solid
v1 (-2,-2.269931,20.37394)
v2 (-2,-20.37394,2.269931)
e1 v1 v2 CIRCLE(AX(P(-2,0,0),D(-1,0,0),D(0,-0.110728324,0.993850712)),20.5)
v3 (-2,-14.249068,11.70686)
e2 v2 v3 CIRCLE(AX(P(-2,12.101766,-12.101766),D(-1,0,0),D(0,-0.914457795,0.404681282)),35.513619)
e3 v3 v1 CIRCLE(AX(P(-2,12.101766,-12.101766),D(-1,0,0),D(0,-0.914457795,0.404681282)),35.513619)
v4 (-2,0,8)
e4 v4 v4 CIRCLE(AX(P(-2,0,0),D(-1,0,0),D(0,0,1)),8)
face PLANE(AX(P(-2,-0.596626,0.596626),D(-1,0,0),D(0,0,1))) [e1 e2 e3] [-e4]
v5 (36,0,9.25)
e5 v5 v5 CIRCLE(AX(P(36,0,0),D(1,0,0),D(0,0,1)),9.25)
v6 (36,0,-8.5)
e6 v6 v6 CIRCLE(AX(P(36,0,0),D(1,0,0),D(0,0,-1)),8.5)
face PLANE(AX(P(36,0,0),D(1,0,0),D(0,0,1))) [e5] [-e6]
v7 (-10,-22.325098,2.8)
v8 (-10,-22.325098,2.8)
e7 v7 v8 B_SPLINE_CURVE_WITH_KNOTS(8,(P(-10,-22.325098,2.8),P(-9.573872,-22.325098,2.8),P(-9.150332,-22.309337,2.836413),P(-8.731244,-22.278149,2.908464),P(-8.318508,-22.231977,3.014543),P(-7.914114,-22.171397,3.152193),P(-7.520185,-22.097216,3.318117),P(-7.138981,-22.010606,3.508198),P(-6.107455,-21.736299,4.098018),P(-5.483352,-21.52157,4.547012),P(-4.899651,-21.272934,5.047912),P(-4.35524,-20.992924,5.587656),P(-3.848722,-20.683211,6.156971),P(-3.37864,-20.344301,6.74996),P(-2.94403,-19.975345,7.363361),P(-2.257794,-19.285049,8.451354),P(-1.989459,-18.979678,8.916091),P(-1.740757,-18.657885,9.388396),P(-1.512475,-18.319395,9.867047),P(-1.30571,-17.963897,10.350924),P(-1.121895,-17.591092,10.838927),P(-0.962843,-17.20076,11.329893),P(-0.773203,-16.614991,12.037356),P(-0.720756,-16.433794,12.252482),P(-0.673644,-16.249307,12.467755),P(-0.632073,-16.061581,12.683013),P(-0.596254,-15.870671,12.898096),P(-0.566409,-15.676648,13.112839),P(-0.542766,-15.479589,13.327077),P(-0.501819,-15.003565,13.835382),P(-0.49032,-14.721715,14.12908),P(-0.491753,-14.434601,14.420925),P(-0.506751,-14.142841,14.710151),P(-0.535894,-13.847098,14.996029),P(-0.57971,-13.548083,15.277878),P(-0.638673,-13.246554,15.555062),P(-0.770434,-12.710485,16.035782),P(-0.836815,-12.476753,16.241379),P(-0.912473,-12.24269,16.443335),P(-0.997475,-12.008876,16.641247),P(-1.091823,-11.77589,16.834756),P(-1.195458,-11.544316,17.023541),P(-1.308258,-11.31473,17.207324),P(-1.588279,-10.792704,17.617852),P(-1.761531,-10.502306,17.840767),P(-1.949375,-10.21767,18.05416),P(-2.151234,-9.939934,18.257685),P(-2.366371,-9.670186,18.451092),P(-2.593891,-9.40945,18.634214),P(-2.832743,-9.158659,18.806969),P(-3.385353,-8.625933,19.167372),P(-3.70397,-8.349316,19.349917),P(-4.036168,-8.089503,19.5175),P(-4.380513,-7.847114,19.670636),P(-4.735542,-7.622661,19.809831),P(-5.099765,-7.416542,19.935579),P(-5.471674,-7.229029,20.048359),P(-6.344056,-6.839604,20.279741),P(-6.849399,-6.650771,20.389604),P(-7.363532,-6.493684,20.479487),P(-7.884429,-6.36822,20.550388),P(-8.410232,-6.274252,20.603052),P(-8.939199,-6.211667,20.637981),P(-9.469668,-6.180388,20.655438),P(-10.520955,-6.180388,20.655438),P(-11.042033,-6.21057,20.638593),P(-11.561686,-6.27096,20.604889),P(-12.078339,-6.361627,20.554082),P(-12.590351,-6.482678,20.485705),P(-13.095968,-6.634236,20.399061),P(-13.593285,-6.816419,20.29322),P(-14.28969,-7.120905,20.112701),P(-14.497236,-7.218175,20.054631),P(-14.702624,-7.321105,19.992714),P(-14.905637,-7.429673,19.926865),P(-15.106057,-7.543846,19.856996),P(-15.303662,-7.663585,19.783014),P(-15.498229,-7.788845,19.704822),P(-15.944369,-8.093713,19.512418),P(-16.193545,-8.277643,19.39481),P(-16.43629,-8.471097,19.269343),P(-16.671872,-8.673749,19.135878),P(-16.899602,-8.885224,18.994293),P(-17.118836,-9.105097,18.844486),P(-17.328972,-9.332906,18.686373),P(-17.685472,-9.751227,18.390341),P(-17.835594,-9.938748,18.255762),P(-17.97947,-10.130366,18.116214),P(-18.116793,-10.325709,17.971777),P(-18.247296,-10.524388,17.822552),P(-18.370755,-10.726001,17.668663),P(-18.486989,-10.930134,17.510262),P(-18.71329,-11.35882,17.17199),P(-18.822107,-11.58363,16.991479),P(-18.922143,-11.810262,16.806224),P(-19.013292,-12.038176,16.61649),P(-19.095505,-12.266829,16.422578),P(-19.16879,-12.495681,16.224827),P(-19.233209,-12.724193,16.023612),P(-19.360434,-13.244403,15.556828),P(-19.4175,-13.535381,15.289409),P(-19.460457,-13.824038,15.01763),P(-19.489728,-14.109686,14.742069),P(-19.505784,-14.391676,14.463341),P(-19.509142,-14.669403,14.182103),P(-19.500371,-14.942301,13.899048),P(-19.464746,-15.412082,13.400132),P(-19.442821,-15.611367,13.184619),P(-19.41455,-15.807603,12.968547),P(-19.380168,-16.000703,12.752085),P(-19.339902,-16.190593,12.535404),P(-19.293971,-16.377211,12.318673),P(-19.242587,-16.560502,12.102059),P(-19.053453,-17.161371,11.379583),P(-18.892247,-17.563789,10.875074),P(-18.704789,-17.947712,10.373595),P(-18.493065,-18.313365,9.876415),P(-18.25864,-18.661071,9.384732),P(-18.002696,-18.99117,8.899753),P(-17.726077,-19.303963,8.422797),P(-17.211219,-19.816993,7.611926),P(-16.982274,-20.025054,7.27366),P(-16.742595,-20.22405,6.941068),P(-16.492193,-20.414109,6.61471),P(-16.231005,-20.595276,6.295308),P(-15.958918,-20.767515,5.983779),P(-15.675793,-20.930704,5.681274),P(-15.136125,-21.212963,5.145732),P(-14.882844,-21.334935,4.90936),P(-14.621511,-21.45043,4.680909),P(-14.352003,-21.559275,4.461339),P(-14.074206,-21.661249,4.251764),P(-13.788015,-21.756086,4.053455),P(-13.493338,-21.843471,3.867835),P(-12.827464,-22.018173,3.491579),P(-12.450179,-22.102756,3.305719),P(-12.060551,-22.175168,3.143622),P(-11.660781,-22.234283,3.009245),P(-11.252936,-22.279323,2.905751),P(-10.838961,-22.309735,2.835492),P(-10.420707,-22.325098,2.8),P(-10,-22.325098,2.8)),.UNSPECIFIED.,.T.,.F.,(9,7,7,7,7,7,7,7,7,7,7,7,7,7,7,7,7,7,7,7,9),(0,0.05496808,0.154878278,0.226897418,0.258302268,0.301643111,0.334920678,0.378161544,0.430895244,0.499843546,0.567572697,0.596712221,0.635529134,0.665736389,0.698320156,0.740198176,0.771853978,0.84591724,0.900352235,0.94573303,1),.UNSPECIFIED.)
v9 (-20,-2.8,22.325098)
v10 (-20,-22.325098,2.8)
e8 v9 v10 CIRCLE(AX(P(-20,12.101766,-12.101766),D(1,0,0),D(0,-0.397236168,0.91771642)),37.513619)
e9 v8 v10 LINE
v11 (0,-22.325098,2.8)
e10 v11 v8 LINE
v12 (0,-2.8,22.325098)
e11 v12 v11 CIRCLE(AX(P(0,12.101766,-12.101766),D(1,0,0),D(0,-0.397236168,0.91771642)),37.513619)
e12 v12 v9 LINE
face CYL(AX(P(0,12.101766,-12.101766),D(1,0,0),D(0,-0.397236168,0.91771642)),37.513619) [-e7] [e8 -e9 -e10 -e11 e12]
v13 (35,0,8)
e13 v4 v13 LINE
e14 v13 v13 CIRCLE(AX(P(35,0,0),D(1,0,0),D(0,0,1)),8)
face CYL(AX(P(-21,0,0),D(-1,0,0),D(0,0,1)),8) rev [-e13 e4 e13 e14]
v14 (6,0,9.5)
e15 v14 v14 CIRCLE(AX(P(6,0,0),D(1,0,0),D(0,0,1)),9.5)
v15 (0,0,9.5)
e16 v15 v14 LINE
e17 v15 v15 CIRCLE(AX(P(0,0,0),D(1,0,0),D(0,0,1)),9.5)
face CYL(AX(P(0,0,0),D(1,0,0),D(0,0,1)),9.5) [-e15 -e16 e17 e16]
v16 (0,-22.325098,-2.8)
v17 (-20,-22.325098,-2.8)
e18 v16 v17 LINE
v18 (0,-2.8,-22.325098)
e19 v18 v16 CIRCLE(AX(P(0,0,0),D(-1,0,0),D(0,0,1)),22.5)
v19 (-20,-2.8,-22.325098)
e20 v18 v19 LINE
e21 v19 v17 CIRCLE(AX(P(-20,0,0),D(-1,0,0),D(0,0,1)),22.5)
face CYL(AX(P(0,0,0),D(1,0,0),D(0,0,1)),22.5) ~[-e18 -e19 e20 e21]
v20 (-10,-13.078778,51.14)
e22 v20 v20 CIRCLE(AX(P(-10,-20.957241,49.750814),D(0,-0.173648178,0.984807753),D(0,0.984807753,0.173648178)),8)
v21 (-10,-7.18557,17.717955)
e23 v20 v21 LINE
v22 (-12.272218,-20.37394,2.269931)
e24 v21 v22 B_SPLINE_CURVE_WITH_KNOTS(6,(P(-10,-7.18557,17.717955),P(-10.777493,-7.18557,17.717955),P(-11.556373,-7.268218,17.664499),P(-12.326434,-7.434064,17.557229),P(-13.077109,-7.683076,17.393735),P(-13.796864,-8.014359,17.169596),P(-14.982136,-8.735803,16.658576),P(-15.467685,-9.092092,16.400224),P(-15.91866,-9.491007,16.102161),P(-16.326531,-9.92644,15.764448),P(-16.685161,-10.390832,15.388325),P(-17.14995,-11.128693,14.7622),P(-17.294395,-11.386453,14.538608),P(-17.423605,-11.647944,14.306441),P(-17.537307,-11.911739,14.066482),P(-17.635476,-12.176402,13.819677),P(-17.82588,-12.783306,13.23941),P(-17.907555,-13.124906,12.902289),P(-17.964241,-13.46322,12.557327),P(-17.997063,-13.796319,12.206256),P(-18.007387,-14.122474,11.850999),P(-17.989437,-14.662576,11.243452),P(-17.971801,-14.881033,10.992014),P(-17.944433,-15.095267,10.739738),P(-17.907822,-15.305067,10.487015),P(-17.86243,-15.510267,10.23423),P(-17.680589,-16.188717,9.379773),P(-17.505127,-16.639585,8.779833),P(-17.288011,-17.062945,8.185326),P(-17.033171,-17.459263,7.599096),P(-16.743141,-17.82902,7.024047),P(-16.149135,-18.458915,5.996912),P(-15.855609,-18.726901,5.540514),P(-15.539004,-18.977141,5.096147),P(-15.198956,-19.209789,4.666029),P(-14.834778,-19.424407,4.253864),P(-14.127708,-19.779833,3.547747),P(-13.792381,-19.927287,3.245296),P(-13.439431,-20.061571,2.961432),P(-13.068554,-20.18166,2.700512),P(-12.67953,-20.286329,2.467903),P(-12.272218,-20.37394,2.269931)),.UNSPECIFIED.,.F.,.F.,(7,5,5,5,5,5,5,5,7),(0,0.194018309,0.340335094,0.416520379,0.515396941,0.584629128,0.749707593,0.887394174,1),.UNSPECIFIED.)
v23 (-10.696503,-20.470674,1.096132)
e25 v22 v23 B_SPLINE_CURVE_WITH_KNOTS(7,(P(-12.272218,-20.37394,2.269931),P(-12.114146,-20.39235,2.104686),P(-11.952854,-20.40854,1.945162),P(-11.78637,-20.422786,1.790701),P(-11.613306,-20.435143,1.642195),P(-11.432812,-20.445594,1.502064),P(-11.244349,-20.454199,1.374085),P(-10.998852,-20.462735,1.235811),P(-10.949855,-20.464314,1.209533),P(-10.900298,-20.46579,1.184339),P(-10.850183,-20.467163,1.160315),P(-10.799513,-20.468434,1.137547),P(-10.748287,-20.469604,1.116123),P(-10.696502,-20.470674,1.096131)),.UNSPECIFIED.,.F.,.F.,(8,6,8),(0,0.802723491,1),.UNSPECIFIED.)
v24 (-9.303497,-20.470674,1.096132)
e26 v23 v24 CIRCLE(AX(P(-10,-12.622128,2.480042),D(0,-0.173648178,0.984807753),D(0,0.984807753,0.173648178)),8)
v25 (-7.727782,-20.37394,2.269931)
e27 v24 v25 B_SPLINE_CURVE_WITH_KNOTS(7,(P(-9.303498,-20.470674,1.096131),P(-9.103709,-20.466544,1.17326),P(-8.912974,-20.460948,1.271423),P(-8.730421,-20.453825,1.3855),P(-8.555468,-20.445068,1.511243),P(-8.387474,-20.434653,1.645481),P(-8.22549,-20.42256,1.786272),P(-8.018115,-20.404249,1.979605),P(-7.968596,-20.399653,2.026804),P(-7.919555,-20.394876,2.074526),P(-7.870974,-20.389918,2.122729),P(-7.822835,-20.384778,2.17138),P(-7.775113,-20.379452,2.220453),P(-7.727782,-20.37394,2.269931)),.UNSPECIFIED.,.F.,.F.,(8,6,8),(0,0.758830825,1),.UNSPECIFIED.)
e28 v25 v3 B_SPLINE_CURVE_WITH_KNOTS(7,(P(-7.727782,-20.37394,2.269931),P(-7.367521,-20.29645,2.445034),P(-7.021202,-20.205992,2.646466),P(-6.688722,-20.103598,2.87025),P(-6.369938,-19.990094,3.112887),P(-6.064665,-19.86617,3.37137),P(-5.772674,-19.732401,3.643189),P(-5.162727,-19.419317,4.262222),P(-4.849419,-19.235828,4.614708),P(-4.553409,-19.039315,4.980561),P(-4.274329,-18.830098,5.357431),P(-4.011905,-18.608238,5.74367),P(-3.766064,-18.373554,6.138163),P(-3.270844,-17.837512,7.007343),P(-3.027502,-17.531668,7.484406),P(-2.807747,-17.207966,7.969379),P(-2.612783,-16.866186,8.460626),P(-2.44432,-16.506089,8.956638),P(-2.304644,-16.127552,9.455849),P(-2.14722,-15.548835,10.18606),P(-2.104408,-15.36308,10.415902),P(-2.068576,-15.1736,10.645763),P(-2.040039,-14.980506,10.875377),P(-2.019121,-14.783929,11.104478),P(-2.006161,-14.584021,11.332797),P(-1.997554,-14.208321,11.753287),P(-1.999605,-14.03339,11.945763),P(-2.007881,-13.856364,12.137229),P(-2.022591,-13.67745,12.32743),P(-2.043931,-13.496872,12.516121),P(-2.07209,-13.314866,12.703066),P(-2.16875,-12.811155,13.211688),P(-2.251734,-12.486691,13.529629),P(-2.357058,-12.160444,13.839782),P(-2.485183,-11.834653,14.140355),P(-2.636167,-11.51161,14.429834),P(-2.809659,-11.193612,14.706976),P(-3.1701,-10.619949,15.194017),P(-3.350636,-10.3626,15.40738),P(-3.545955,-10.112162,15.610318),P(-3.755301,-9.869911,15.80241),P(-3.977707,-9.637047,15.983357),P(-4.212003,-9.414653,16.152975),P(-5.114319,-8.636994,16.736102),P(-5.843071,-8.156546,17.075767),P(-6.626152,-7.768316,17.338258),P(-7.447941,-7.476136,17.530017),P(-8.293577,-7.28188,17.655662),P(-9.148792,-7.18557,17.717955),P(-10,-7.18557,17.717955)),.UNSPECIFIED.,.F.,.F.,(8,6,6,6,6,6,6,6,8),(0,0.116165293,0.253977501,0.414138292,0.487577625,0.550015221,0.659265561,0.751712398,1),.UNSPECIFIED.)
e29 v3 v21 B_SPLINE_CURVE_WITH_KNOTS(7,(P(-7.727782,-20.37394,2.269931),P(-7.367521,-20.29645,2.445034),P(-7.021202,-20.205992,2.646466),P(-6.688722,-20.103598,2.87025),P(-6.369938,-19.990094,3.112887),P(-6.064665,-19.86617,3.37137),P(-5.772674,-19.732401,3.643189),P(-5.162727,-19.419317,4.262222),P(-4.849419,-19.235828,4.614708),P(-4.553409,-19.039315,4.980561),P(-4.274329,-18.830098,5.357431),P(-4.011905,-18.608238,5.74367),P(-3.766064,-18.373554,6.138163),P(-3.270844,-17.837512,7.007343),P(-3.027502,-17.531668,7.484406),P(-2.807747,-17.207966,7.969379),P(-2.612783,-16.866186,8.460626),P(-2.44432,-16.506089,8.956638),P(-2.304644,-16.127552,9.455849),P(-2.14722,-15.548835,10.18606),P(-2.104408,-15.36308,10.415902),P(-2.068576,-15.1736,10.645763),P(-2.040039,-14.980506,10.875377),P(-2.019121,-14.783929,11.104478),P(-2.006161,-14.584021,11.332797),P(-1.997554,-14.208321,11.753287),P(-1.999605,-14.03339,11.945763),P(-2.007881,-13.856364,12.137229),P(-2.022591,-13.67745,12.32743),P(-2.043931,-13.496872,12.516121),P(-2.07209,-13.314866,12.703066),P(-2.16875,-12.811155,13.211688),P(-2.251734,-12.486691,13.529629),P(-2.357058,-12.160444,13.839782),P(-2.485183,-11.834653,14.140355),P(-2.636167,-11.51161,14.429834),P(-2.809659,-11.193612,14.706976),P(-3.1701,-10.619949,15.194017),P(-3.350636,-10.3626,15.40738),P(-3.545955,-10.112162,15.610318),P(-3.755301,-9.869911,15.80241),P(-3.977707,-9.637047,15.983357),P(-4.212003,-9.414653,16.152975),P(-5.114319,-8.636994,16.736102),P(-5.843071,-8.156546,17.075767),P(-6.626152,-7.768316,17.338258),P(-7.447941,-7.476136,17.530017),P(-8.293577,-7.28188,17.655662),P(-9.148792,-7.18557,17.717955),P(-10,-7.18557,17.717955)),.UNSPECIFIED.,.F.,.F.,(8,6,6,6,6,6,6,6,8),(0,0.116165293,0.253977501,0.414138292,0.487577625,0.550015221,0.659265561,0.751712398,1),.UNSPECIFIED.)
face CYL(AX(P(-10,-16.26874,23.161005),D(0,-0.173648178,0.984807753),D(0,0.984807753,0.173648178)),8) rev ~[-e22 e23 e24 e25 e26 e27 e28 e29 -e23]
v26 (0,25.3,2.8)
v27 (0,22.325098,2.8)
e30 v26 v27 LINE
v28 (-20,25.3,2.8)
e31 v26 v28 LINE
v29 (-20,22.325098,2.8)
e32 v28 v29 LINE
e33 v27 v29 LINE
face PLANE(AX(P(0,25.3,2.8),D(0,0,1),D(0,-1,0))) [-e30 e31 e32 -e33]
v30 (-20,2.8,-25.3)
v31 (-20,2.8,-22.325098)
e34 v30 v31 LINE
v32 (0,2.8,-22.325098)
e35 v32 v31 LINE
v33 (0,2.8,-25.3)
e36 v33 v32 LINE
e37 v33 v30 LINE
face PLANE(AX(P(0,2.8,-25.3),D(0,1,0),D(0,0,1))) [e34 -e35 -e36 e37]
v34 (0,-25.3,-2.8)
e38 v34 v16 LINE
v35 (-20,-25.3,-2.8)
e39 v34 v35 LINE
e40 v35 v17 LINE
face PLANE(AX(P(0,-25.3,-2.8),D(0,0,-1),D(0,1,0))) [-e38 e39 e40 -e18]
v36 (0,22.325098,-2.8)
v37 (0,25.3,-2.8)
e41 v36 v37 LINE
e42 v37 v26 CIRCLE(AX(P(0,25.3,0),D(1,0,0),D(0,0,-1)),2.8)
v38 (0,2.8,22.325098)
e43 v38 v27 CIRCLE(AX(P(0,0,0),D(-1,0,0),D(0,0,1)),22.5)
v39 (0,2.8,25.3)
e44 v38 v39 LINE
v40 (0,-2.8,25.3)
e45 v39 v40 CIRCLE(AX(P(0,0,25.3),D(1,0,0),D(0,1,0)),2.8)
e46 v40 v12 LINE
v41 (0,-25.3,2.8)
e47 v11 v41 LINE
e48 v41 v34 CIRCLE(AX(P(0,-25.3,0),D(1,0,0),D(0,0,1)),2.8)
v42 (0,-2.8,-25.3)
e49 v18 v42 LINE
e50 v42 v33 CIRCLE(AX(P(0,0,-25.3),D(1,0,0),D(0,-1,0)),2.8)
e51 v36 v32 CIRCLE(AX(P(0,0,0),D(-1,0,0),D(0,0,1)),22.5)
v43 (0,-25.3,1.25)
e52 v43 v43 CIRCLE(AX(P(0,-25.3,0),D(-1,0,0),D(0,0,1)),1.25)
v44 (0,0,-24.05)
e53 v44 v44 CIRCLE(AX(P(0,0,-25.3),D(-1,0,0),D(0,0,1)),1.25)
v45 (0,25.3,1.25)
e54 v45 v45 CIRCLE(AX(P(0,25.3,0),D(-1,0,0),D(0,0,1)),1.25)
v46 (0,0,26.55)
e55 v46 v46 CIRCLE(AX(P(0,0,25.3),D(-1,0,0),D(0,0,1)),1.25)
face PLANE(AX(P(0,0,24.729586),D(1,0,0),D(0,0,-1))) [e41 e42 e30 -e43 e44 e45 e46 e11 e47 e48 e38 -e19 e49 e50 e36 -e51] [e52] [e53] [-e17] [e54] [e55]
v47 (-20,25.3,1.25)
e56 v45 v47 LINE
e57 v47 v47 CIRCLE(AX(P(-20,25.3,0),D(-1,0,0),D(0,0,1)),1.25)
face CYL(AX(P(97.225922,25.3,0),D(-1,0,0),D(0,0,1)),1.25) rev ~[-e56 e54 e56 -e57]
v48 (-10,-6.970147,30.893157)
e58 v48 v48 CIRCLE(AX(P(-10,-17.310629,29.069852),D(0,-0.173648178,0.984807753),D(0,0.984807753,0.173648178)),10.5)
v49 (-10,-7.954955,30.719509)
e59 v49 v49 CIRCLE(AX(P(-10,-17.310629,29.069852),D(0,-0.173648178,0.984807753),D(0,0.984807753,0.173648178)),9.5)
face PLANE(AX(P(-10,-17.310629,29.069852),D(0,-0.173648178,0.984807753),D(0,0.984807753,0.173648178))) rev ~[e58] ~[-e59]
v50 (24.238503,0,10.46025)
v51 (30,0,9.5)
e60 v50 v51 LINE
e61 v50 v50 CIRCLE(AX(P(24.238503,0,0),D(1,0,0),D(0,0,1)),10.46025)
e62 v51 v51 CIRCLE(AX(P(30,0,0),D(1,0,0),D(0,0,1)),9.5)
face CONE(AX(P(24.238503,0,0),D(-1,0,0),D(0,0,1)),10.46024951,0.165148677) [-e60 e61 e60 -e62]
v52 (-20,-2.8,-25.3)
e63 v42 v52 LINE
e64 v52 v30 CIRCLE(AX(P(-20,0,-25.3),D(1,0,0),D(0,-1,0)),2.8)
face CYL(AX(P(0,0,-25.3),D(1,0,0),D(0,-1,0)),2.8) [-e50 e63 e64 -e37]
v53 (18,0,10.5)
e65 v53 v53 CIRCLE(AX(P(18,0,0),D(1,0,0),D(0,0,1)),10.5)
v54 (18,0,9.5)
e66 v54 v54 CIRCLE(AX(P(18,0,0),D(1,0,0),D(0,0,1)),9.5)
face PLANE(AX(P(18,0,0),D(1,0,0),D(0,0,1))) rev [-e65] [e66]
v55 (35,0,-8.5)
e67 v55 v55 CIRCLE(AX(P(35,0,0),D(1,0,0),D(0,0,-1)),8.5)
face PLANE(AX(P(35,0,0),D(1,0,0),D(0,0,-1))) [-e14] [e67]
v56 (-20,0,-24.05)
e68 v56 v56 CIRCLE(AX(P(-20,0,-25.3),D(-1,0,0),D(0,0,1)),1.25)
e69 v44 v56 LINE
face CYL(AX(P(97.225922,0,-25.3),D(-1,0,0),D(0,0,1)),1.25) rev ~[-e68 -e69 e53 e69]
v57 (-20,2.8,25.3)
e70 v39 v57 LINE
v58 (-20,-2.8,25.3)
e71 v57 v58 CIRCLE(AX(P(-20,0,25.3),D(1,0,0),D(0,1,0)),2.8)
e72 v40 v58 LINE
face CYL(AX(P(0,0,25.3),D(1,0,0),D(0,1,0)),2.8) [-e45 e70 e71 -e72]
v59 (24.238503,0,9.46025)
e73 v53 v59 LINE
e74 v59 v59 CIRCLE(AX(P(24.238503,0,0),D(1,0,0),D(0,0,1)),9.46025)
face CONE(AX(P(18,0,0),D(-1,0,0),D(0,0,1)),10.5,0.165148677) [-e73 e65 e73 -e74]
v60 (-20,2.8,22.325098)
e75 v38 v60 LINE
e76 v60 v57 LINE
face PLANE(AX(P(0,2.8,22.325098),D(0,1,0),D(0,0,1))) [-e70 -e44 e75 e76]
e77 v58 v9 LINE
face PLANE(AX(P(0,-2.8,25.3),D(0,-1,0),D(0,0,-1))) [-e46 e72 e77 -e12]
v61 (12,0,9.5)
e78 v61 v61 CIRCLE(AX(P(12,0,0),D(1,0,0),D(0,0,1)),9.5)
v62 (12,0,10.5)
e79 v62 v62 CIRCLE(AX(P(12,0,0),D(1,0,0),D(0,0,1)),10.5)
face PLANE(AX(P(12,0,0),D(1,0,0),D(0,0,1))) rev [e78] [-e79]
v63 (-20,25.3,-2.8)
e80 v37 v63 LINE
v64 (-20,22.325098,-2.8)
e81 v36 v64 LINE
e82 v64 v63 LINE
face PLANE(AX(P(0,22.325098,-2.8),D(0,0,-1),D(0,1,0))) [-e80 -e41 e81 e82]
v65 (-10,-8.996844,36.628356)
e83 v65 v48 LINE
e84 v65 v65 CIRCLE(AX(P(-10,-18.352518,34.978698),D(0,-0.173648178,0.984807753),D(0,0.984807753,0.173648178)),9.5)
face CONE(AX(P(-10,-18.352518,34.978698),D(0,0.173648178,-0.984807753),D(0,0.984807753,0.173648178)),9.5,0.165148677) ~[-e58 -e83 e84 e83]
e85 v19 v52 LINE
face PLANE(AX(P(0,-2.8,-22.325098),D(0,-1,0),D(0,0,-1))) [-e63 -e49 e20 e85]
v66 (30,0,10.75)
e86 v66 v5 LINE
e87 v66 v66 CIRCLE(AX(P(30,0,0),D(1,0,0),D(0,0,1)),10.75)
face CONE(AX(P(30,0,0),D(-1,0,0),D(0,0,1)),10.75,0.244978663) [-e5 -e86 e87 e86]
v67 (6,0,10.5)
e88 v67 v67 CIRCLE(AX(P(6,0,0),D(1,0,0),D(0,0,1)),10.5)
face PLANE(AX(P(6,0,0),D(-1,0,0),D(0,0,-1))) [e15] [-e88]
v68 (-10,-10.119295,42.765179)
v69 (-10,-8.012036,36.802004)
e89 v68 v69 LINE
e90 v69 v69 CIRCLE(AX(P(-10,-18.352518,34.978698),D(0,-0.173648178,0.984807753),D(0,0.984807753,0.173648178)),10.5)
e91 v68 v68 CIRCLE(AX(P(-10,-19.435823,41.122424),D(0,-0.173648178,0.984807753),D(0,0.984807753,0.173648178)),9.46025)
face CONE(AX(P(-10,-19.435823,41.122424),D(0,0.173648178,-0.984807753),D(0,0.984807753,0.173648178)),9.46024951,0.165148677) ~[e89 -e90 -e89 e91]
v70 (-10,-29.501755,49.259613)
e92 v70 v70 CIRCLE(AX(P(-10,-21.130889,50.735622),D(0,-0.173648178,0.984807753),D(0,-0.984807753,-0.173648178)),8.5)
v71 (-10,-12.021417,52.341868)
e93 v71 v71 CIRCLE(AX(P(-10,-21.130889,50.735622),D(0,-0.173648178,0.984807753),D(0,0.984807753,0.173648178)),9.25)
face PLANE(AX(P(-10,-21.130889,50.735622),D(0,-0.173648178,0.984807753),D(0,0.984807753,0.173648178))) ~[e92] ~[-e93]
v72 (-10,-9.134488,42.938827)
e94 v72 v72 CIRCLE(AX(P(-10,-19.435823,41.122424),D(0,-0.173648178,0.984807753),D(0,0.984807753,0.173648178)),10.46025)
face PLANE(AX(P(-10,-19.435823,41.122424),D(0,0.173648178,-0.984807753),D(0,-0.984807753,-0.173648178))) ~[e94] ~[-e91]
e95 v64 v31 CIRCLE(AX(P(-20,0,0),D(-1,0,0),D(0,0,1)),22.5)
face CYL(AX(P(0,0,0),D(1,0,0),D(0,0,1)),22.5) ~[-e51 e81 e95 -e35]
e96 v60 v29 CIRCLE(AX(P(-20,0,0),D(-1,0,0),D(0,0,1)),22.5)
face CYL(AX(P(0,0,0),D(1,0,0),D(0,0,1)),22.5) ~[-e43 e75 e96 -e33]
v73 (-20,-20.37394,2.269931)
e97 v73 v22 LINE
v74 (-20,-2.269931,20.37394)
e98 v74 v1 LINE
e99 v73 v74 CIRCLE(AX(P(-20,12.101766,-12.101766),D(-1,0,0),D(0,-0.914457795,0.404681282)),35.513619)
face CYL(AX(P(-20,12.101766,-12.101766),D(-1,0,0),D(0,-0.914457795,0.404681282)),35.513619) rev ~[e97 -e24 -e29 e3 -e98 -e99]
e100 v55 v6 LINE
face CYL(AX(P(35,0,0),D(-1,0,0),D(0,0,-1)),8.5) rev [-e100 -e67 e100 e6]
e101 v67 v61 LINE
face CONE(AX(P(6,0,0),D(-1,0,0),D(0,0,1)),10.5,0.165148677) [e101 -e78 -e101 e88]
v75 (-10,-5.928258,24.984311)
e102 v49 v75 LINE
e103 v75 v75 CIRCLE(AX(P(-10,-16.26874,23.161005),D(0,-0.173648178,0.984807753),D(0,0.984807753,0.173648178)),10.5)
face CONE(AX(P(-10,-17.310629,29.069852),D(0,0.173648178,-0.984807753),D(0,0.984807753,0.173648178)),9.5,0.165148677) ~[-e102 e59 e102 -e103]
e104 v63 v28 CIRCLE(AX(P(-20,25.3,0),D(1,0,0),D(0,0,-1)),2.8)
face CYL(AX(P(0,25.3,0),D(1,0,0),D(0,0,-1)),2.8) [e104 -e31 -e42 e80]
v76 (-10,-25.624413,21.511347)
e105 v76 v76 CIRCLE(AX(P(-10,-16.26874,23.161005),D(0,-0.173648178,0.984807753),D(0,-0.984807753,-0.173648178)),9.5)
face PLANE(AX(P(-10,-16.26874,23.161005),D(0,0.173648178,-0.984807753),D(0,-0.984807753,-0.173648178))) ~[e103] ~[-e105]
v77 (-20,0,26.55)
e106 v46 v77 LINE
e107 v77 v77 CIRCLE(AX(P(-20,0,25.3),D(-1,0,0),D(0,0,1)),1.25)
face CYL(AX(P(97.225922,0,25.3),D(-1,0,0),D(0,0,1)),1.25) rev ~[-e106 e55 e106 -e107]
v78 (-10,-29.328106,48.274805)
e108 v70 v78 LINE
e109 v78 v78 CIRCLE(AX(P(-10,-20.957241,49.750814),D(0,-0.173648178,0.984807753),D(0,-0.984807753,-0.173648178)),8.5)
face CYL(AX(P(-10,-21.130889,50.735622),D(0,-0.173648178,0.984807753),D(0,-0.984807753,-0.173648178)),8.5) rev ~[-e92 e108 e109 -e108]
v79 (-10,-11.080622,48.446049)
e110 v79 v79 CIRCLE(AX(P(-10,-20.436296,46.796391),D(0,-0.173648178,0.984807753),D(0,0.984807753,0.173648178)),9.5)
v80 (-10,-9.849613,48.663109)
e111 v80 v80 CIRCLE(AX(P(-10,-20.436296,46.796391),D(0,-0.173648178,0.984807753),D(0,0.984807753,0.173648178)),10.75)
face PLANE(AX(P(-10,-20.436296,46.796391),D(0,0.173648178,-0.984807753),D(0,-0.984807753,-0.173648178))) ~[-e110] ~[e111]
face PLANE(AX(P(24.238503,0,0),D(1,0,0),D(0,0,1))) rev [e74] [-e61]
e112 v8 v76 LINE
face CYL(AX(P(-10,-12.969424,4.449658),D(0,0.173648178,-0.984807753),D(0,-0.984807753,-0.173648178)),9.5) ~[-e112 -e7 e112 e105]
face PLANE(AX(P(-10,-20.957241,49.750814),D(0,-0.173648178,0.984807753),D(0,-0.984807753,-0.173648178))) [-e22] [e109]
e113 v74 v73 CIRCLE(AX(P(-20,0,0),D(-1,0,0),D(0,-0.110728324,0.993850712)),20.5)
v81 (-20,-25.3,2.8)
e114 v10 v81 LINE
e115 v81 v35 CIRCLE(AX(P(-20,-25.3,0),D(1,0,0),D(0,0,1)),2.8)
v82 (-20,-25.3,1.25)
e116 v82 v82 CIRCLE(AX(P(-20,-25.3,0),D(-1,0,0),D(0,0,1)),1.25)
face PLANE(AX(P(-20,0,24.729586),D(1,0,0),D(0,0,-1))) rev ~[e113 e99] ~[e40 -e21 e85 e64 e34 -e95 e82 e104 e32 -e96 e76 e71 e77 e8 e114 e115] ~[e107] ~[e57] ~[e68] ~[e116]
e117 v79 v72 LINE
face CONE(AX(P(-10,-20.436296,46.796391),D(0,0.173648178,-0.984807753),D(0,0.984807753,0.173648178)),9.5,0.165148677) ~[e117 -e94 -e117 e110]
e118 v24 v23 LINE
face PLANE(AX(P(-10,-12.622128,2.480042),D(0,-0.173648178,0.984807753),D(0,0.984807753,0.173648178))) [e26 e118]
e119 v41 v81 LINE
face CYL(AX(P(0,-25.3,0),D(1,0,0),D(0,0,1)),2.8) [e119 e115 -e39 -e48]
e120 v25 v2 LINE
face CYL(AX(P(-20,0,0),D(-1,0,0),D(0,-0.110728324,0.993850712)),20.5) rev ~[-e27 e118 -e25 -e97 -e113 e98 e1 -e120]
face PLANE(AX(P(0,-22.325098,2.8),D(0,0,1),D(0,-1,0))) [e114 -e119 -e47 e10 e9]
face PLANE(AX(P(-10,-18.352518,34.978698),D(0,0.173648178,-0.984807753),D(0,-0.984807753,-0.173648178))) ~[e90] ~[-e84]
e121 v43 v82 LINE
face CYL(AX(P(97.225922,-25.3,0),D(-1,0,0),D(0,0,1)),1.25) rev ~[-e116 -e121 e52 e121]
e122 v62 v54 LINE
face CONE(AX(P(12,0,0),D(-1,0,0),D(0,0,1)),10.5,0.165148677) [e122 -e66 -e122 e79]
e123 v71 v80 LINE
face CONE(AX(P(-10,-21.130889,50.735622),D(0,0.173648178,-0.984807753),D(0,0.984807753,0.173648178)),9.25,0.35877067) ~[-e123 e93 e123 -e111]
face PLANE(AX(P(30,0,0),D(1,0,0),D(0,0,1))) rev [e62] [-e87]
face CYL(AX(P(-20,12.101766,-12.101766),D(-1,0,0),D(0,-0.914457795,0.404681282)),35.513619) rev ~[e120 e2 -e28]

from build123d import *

# Parameters (mm, degrees)
SKETCH_2_R          = 22.5
EXTRUDE_1_DEPTH     = 20
CUT_EXTRUDE_START   = -1
SKETCH_3_R          = 8.5
SKETCH_3_R_2        = 8
CUT_EXTRUDE_1_DEPTH = 1
EXTRUDE_2_DEPTH     = 20
HOLE_WIZARD_M31_D   = 2.5
CUT_EXTRUDE_2_DEPTH = 54.62107794515138
SKETCH_9_R          = 9.5
EXTRUDE_4_DEPTH     = 19
CUT_EXTRUDE_3_DEPTH = 18
SKETCH_14_R         = 8.000000000000538
CUT_EXTRUDE_5_DEPTH = 20.999999999999996
CUT_EXTRUDE_START_2 = -20.999999999999996
SKETCH_15_R         = 8
CUT_EXTRUDE_6_DEPTH = 20.999999999999996
SKETCH_13_R         = 8.5
SKETCH_13_R_2       = 8.000000000000538
CUT_EXTRUDE_7_DEPTH = 1


with BuildPart() as part:
    # Эскиз1 → Повернуть1 (revolve)
    with BuildSketch(Plane.XY, mode=Mode.PRIVATE) as revolve_1_sk:
        Polygon((6.000000000000004, 9.500000000000005), (6.0000000000000036, 10.500000000000005), (12.000000000000004, 9.500000000000005), (12.000000000000004, 10.500000000000005), (18.000000000000004, 9.500000000000009), (18.000000000000004, 10.500000000000005), (24.238502938920437, 9.460249510179933), (24.238502938920437, 10.460249510179935), (30, 9.50000000000001), (30, 10.750000000000004), (35.99999999999999, 9.250000000000005), (35.99999999999999, 8.000000000000004), (0, 8), (0, 9.500000000000005), align=None)
    revolve(revolve_1_sk.sketch.rotate(Axis((0, 0, 0), (1, 0, 0)), 90), axis=Axis((0, 0, 0), (1, 0, 0)))

    # Эскиз2 → Бобышка-Вытянуть1 (add)
    with BuildSketch(Plane.ZY):
        Circle(SKETCH_2_R)
    extrude(amount=EXTRUDE_1_DEPTH)

    # Эскиз3 → Вырез-Вытянуть1 (cut)
    with BuildSketch(Plane(origin=(35.99999999999999, 0, 0), x_dir=(0, 0, -1), z_dir=(1, 0, 0)).offset(CUT_EXTRUDE_START)):
        Circle(SKETCH_3_R)
        with Locations(Location((0, 0, 0), (0, 0, 180))):
            Circle(SKETCH_3_R_2, mode=Mode.SUBTRACT)
    extrude(amount=CUT_EXTRUDE_1_DEPTH, mode=Mode.SUBTRACT)

    # Эскиз4 → Бобышка-Вытянуть2 (add)
    with BuildSketch(Plane(origin=(0, 0, 0), x_dir=(0, 0, -1), z_dir=(1, 0, 0))):
        with BuildLine():
            Line((25.30000000000001, 2.799999999999917), (22.325097984107497, 2.7999999999999274))
            ThreePointArc((22.325097984107497, 2.7999999999999274), (22.500000000000007, -7.244e-14), (22.32509798410748, -2.8000000000000718))
            Line((22.32509798410748, -2.8000000000000718), (25.29999999999999, -2.8000000000000824))
            ThreePointArc((25.29999999999999, -2.8000000000000824), (28.099999999999998, -9.585e-14), (25.30000000000001, 2.799999999999917))
        make_face()
        with BuildLine():
            Line((-2.800000000000002, 25.3), (-2.800000000000002, 22.325097984107487))
            ThreePointArc((-2.800000000000002, 22.325097984107487), (1.38e-15, 22.500000000000007), (2.799999999999997, 22.32509798410749))
            Line((2.799999999999997, 22.32509798410749), (2.799999999999997, 25.3))
            ThreePointArc((2.799999999999997, 25.3), (5.9e-16, 28.099999999999998), (-2.800000000000002, 25.3))
        make_face()
        with BuildLine():
            Line((2.7999999999998266, -25.300000000000022), (2.7999999999998475, -22.325097984107504))
            ThreePointArc((2.7999999999998475, -22.325097984107504), (-1.535e-13, -22.500000000000004), (-2.800000000000152, -22.32509798410747))
            Line((-2.800000000000152, -22.32509798410747), (-2.800000000000173, -25.29999999999998))
            ThreePointArc((-2.800000000000173, -25.29999999999998), (-1.9663e-13, -28.099999999999998), (2.7999999999998266, -25.300000000000022))
        make_face()
        with BuildLine():
            Line((-25.300000000000026, -2.7999999999997374), (-22.32509798410751, -2.7999999999997685))
            ThreePointArc((-22.32509798410751, -2.7999999999997685), (-22.500000000000007, 2.3257e-13), (-22.32509798410746, 2.800000000000231))
            Line((-22.32509798410746, 2.800000000000231), (-25.299999999999972, 2.8000000000002623))
            ThreePointArc((-25.299999999999972, 2.8000000000002623), (-28.099999999999998, 2.9312e-13), (-25.300000000000026, -2.7999999999997374))
        make_face()
    extrude(amount=-EXTRUDE_2_DEPTH)

    # Отверстие обработанное метчиком M31 (through all)
    with Locations(Plane(origin=(0, 0, 0), x_dir=(0, 0, -1), z_dir=(1, 0, 0))):
        with Locations((0, 25.3), (-25.3, 0), (0, -25.3), (25.3, 0)):
            Hole(HOLE_WIZARD_M31_D / 2)

    # Эскиз7 → Вырез-Вытянуть2 (cut, through all)
    with BuildSketch(Plane(origin=(0, 0, 0), x_dir=(0, 0, -1), z_dir=(1, 0, 0))):
        with BuildLine():
            ThreePointArc((-22.32509798410751, -2.7999999999997685), (-14.424368200146956, -14.424368200146706), (-2.8000000000001526, -22.32509798410747))
            ThreePointArc((-2.8000000000001526, -22.32509798410747), (-15.90990257669746, -15.909902576697181), (-22.32509798410751, -2.7999999999997685))
        make_face()
    extrude(amount=-CUT_EXTRUDE_2_DEPTH, mode=Mode.SUBTRACT)

    # Эскиз9 → Бобышка-Вытянуть4 (add)
    with BuildSketch(Plane(origin=(0, -1.1520122757155562, 6.533386275242313), x_dir=(1, 0, 0), z_dir=(0, -0.17364817766692384, 0.9848077530122092))):
        with Locations(Location((-10.000000000000002, -11.99971468403886, 0), (0, 0, 270))):
            Circle(SKETCH_9_R)
    extrude(amount=EXTRUDE_4_DEPTH)

    # Эскиз10 → Повернуть2 (revolve)
    with BuildSketch(Plane(origin=(-10, 0, 0), x_dir=(0, 0, -1), z_dir=(1, 0, 0)), mode=Mode.PRIVATE) as revolve_2_sk:
        Polygon((-27.24654564763845, -27.65111017879284), (-27.4201938253054, -26.66630242578063), (-21.337699129565245, -26.609221112791218), (-21.771819573732436, -24.147201730261234), (-49.34643665807445, -29.009350704935), (-49.1293764359908, -30.240360396200256), (-44.92967315744145, -31.022979315050762), (-45.146733379525074, -29.79196962378552), (-39.3060208272686, -29.737157320947013), (-39.4796690049355, -28.752349567934818), (-33.155392165711675, -28.692999244794482), (-33.32904034337858, -27.70819149178227), align=None)
    revolve(revolve_2_sk.sketch.rotate(Axis((-10, -16.268739706163032, 23.161004995067916), (0, -0.1736481776669369, 0.9848077530122069)), 180), axis=Axis((-10, -16.268739706163032, 23.161004995067916), (0, -0.1736481776669369, 0.9848077530122069)))

    # Эскиз12 → Вырез-Вытянуть3 (cut)
    with BuildSketch(Plane.ZY.offset(20)):
        with BuildLine():
            ThreePointArc((20.373939602323045, -2.2699306334980194), (-14.495689014324347, 14.495689014324102), (2.2699306334983786, -20.37393960232301))
            ThreePointArc((2.2699306334983786, -20.37393960232301), (13.01015463777385, -13.01015463777362), (20.373939602323045, -2.2699306334980194))
        make_face()
    extrude(amount=-CUT_EXTRUDE_3_DEPTH, mode=Mode.SUBTRACT)

    # Эскиз14 → Вырез-Вытянуть5 (cut)
    with BuildSketch(Plane(origin=(0, -4.451327651387111, 25.244733582474296), x_dir=(1, 0, 0), z_dir=(0, -0.17364817766692386, 0.9848077530122094))):
        with Locations(Location((-10, -11.999714684038862, 0), (0, 0, 90))):
            Circle(SKETCH_14_R)
    extrude(amount=-CUT_EXTRUDE_5_DEPTH, mode=Mode.SUBTRACT)

    # Эскиз15 → Вырез-Вытянуть6 (cut)
    with BuildSketch(Plane(origin=(0, 0, 0), x_dir=(0, 0, -1), z_dir=(1, 0, 0)).offset(CUT_EXTRUDE_START_2)):
        with Locations(Location((0, 0, 0), (0, 0, 180))):
            Circle(SKETCH_15_R)
    extrude(amount=CUT_EXTRUDE_6_DEPTH, mode=Mode.SUBTRACT)

    # Эскиз13 → Вырез-Вытянуть7 (cut)
    with BuildSketch(Plane(origin=(0, -9.313476626061751, 52.81935066681644), x_dir=(1, 0, 0), z_dir=(0, -0.17364817766693696, 0.9848077530122069))):
        with Locations(Location((-10, -11.999714684038523, 0), (0, 0, 270))):
            Circle(SKETCH_13_R)
        with Locations(Location((-10, -11.999714684038523, 0), (0, 0, 7.531e-06))):
            Circle(SKETCH_13_R_2, mode=Mode.SUBTRACT)
    extrude(amount=-CUT_EXTRUDE_7_DEPTH, mode=Mode.SUBTRACT)


solid = part.part
